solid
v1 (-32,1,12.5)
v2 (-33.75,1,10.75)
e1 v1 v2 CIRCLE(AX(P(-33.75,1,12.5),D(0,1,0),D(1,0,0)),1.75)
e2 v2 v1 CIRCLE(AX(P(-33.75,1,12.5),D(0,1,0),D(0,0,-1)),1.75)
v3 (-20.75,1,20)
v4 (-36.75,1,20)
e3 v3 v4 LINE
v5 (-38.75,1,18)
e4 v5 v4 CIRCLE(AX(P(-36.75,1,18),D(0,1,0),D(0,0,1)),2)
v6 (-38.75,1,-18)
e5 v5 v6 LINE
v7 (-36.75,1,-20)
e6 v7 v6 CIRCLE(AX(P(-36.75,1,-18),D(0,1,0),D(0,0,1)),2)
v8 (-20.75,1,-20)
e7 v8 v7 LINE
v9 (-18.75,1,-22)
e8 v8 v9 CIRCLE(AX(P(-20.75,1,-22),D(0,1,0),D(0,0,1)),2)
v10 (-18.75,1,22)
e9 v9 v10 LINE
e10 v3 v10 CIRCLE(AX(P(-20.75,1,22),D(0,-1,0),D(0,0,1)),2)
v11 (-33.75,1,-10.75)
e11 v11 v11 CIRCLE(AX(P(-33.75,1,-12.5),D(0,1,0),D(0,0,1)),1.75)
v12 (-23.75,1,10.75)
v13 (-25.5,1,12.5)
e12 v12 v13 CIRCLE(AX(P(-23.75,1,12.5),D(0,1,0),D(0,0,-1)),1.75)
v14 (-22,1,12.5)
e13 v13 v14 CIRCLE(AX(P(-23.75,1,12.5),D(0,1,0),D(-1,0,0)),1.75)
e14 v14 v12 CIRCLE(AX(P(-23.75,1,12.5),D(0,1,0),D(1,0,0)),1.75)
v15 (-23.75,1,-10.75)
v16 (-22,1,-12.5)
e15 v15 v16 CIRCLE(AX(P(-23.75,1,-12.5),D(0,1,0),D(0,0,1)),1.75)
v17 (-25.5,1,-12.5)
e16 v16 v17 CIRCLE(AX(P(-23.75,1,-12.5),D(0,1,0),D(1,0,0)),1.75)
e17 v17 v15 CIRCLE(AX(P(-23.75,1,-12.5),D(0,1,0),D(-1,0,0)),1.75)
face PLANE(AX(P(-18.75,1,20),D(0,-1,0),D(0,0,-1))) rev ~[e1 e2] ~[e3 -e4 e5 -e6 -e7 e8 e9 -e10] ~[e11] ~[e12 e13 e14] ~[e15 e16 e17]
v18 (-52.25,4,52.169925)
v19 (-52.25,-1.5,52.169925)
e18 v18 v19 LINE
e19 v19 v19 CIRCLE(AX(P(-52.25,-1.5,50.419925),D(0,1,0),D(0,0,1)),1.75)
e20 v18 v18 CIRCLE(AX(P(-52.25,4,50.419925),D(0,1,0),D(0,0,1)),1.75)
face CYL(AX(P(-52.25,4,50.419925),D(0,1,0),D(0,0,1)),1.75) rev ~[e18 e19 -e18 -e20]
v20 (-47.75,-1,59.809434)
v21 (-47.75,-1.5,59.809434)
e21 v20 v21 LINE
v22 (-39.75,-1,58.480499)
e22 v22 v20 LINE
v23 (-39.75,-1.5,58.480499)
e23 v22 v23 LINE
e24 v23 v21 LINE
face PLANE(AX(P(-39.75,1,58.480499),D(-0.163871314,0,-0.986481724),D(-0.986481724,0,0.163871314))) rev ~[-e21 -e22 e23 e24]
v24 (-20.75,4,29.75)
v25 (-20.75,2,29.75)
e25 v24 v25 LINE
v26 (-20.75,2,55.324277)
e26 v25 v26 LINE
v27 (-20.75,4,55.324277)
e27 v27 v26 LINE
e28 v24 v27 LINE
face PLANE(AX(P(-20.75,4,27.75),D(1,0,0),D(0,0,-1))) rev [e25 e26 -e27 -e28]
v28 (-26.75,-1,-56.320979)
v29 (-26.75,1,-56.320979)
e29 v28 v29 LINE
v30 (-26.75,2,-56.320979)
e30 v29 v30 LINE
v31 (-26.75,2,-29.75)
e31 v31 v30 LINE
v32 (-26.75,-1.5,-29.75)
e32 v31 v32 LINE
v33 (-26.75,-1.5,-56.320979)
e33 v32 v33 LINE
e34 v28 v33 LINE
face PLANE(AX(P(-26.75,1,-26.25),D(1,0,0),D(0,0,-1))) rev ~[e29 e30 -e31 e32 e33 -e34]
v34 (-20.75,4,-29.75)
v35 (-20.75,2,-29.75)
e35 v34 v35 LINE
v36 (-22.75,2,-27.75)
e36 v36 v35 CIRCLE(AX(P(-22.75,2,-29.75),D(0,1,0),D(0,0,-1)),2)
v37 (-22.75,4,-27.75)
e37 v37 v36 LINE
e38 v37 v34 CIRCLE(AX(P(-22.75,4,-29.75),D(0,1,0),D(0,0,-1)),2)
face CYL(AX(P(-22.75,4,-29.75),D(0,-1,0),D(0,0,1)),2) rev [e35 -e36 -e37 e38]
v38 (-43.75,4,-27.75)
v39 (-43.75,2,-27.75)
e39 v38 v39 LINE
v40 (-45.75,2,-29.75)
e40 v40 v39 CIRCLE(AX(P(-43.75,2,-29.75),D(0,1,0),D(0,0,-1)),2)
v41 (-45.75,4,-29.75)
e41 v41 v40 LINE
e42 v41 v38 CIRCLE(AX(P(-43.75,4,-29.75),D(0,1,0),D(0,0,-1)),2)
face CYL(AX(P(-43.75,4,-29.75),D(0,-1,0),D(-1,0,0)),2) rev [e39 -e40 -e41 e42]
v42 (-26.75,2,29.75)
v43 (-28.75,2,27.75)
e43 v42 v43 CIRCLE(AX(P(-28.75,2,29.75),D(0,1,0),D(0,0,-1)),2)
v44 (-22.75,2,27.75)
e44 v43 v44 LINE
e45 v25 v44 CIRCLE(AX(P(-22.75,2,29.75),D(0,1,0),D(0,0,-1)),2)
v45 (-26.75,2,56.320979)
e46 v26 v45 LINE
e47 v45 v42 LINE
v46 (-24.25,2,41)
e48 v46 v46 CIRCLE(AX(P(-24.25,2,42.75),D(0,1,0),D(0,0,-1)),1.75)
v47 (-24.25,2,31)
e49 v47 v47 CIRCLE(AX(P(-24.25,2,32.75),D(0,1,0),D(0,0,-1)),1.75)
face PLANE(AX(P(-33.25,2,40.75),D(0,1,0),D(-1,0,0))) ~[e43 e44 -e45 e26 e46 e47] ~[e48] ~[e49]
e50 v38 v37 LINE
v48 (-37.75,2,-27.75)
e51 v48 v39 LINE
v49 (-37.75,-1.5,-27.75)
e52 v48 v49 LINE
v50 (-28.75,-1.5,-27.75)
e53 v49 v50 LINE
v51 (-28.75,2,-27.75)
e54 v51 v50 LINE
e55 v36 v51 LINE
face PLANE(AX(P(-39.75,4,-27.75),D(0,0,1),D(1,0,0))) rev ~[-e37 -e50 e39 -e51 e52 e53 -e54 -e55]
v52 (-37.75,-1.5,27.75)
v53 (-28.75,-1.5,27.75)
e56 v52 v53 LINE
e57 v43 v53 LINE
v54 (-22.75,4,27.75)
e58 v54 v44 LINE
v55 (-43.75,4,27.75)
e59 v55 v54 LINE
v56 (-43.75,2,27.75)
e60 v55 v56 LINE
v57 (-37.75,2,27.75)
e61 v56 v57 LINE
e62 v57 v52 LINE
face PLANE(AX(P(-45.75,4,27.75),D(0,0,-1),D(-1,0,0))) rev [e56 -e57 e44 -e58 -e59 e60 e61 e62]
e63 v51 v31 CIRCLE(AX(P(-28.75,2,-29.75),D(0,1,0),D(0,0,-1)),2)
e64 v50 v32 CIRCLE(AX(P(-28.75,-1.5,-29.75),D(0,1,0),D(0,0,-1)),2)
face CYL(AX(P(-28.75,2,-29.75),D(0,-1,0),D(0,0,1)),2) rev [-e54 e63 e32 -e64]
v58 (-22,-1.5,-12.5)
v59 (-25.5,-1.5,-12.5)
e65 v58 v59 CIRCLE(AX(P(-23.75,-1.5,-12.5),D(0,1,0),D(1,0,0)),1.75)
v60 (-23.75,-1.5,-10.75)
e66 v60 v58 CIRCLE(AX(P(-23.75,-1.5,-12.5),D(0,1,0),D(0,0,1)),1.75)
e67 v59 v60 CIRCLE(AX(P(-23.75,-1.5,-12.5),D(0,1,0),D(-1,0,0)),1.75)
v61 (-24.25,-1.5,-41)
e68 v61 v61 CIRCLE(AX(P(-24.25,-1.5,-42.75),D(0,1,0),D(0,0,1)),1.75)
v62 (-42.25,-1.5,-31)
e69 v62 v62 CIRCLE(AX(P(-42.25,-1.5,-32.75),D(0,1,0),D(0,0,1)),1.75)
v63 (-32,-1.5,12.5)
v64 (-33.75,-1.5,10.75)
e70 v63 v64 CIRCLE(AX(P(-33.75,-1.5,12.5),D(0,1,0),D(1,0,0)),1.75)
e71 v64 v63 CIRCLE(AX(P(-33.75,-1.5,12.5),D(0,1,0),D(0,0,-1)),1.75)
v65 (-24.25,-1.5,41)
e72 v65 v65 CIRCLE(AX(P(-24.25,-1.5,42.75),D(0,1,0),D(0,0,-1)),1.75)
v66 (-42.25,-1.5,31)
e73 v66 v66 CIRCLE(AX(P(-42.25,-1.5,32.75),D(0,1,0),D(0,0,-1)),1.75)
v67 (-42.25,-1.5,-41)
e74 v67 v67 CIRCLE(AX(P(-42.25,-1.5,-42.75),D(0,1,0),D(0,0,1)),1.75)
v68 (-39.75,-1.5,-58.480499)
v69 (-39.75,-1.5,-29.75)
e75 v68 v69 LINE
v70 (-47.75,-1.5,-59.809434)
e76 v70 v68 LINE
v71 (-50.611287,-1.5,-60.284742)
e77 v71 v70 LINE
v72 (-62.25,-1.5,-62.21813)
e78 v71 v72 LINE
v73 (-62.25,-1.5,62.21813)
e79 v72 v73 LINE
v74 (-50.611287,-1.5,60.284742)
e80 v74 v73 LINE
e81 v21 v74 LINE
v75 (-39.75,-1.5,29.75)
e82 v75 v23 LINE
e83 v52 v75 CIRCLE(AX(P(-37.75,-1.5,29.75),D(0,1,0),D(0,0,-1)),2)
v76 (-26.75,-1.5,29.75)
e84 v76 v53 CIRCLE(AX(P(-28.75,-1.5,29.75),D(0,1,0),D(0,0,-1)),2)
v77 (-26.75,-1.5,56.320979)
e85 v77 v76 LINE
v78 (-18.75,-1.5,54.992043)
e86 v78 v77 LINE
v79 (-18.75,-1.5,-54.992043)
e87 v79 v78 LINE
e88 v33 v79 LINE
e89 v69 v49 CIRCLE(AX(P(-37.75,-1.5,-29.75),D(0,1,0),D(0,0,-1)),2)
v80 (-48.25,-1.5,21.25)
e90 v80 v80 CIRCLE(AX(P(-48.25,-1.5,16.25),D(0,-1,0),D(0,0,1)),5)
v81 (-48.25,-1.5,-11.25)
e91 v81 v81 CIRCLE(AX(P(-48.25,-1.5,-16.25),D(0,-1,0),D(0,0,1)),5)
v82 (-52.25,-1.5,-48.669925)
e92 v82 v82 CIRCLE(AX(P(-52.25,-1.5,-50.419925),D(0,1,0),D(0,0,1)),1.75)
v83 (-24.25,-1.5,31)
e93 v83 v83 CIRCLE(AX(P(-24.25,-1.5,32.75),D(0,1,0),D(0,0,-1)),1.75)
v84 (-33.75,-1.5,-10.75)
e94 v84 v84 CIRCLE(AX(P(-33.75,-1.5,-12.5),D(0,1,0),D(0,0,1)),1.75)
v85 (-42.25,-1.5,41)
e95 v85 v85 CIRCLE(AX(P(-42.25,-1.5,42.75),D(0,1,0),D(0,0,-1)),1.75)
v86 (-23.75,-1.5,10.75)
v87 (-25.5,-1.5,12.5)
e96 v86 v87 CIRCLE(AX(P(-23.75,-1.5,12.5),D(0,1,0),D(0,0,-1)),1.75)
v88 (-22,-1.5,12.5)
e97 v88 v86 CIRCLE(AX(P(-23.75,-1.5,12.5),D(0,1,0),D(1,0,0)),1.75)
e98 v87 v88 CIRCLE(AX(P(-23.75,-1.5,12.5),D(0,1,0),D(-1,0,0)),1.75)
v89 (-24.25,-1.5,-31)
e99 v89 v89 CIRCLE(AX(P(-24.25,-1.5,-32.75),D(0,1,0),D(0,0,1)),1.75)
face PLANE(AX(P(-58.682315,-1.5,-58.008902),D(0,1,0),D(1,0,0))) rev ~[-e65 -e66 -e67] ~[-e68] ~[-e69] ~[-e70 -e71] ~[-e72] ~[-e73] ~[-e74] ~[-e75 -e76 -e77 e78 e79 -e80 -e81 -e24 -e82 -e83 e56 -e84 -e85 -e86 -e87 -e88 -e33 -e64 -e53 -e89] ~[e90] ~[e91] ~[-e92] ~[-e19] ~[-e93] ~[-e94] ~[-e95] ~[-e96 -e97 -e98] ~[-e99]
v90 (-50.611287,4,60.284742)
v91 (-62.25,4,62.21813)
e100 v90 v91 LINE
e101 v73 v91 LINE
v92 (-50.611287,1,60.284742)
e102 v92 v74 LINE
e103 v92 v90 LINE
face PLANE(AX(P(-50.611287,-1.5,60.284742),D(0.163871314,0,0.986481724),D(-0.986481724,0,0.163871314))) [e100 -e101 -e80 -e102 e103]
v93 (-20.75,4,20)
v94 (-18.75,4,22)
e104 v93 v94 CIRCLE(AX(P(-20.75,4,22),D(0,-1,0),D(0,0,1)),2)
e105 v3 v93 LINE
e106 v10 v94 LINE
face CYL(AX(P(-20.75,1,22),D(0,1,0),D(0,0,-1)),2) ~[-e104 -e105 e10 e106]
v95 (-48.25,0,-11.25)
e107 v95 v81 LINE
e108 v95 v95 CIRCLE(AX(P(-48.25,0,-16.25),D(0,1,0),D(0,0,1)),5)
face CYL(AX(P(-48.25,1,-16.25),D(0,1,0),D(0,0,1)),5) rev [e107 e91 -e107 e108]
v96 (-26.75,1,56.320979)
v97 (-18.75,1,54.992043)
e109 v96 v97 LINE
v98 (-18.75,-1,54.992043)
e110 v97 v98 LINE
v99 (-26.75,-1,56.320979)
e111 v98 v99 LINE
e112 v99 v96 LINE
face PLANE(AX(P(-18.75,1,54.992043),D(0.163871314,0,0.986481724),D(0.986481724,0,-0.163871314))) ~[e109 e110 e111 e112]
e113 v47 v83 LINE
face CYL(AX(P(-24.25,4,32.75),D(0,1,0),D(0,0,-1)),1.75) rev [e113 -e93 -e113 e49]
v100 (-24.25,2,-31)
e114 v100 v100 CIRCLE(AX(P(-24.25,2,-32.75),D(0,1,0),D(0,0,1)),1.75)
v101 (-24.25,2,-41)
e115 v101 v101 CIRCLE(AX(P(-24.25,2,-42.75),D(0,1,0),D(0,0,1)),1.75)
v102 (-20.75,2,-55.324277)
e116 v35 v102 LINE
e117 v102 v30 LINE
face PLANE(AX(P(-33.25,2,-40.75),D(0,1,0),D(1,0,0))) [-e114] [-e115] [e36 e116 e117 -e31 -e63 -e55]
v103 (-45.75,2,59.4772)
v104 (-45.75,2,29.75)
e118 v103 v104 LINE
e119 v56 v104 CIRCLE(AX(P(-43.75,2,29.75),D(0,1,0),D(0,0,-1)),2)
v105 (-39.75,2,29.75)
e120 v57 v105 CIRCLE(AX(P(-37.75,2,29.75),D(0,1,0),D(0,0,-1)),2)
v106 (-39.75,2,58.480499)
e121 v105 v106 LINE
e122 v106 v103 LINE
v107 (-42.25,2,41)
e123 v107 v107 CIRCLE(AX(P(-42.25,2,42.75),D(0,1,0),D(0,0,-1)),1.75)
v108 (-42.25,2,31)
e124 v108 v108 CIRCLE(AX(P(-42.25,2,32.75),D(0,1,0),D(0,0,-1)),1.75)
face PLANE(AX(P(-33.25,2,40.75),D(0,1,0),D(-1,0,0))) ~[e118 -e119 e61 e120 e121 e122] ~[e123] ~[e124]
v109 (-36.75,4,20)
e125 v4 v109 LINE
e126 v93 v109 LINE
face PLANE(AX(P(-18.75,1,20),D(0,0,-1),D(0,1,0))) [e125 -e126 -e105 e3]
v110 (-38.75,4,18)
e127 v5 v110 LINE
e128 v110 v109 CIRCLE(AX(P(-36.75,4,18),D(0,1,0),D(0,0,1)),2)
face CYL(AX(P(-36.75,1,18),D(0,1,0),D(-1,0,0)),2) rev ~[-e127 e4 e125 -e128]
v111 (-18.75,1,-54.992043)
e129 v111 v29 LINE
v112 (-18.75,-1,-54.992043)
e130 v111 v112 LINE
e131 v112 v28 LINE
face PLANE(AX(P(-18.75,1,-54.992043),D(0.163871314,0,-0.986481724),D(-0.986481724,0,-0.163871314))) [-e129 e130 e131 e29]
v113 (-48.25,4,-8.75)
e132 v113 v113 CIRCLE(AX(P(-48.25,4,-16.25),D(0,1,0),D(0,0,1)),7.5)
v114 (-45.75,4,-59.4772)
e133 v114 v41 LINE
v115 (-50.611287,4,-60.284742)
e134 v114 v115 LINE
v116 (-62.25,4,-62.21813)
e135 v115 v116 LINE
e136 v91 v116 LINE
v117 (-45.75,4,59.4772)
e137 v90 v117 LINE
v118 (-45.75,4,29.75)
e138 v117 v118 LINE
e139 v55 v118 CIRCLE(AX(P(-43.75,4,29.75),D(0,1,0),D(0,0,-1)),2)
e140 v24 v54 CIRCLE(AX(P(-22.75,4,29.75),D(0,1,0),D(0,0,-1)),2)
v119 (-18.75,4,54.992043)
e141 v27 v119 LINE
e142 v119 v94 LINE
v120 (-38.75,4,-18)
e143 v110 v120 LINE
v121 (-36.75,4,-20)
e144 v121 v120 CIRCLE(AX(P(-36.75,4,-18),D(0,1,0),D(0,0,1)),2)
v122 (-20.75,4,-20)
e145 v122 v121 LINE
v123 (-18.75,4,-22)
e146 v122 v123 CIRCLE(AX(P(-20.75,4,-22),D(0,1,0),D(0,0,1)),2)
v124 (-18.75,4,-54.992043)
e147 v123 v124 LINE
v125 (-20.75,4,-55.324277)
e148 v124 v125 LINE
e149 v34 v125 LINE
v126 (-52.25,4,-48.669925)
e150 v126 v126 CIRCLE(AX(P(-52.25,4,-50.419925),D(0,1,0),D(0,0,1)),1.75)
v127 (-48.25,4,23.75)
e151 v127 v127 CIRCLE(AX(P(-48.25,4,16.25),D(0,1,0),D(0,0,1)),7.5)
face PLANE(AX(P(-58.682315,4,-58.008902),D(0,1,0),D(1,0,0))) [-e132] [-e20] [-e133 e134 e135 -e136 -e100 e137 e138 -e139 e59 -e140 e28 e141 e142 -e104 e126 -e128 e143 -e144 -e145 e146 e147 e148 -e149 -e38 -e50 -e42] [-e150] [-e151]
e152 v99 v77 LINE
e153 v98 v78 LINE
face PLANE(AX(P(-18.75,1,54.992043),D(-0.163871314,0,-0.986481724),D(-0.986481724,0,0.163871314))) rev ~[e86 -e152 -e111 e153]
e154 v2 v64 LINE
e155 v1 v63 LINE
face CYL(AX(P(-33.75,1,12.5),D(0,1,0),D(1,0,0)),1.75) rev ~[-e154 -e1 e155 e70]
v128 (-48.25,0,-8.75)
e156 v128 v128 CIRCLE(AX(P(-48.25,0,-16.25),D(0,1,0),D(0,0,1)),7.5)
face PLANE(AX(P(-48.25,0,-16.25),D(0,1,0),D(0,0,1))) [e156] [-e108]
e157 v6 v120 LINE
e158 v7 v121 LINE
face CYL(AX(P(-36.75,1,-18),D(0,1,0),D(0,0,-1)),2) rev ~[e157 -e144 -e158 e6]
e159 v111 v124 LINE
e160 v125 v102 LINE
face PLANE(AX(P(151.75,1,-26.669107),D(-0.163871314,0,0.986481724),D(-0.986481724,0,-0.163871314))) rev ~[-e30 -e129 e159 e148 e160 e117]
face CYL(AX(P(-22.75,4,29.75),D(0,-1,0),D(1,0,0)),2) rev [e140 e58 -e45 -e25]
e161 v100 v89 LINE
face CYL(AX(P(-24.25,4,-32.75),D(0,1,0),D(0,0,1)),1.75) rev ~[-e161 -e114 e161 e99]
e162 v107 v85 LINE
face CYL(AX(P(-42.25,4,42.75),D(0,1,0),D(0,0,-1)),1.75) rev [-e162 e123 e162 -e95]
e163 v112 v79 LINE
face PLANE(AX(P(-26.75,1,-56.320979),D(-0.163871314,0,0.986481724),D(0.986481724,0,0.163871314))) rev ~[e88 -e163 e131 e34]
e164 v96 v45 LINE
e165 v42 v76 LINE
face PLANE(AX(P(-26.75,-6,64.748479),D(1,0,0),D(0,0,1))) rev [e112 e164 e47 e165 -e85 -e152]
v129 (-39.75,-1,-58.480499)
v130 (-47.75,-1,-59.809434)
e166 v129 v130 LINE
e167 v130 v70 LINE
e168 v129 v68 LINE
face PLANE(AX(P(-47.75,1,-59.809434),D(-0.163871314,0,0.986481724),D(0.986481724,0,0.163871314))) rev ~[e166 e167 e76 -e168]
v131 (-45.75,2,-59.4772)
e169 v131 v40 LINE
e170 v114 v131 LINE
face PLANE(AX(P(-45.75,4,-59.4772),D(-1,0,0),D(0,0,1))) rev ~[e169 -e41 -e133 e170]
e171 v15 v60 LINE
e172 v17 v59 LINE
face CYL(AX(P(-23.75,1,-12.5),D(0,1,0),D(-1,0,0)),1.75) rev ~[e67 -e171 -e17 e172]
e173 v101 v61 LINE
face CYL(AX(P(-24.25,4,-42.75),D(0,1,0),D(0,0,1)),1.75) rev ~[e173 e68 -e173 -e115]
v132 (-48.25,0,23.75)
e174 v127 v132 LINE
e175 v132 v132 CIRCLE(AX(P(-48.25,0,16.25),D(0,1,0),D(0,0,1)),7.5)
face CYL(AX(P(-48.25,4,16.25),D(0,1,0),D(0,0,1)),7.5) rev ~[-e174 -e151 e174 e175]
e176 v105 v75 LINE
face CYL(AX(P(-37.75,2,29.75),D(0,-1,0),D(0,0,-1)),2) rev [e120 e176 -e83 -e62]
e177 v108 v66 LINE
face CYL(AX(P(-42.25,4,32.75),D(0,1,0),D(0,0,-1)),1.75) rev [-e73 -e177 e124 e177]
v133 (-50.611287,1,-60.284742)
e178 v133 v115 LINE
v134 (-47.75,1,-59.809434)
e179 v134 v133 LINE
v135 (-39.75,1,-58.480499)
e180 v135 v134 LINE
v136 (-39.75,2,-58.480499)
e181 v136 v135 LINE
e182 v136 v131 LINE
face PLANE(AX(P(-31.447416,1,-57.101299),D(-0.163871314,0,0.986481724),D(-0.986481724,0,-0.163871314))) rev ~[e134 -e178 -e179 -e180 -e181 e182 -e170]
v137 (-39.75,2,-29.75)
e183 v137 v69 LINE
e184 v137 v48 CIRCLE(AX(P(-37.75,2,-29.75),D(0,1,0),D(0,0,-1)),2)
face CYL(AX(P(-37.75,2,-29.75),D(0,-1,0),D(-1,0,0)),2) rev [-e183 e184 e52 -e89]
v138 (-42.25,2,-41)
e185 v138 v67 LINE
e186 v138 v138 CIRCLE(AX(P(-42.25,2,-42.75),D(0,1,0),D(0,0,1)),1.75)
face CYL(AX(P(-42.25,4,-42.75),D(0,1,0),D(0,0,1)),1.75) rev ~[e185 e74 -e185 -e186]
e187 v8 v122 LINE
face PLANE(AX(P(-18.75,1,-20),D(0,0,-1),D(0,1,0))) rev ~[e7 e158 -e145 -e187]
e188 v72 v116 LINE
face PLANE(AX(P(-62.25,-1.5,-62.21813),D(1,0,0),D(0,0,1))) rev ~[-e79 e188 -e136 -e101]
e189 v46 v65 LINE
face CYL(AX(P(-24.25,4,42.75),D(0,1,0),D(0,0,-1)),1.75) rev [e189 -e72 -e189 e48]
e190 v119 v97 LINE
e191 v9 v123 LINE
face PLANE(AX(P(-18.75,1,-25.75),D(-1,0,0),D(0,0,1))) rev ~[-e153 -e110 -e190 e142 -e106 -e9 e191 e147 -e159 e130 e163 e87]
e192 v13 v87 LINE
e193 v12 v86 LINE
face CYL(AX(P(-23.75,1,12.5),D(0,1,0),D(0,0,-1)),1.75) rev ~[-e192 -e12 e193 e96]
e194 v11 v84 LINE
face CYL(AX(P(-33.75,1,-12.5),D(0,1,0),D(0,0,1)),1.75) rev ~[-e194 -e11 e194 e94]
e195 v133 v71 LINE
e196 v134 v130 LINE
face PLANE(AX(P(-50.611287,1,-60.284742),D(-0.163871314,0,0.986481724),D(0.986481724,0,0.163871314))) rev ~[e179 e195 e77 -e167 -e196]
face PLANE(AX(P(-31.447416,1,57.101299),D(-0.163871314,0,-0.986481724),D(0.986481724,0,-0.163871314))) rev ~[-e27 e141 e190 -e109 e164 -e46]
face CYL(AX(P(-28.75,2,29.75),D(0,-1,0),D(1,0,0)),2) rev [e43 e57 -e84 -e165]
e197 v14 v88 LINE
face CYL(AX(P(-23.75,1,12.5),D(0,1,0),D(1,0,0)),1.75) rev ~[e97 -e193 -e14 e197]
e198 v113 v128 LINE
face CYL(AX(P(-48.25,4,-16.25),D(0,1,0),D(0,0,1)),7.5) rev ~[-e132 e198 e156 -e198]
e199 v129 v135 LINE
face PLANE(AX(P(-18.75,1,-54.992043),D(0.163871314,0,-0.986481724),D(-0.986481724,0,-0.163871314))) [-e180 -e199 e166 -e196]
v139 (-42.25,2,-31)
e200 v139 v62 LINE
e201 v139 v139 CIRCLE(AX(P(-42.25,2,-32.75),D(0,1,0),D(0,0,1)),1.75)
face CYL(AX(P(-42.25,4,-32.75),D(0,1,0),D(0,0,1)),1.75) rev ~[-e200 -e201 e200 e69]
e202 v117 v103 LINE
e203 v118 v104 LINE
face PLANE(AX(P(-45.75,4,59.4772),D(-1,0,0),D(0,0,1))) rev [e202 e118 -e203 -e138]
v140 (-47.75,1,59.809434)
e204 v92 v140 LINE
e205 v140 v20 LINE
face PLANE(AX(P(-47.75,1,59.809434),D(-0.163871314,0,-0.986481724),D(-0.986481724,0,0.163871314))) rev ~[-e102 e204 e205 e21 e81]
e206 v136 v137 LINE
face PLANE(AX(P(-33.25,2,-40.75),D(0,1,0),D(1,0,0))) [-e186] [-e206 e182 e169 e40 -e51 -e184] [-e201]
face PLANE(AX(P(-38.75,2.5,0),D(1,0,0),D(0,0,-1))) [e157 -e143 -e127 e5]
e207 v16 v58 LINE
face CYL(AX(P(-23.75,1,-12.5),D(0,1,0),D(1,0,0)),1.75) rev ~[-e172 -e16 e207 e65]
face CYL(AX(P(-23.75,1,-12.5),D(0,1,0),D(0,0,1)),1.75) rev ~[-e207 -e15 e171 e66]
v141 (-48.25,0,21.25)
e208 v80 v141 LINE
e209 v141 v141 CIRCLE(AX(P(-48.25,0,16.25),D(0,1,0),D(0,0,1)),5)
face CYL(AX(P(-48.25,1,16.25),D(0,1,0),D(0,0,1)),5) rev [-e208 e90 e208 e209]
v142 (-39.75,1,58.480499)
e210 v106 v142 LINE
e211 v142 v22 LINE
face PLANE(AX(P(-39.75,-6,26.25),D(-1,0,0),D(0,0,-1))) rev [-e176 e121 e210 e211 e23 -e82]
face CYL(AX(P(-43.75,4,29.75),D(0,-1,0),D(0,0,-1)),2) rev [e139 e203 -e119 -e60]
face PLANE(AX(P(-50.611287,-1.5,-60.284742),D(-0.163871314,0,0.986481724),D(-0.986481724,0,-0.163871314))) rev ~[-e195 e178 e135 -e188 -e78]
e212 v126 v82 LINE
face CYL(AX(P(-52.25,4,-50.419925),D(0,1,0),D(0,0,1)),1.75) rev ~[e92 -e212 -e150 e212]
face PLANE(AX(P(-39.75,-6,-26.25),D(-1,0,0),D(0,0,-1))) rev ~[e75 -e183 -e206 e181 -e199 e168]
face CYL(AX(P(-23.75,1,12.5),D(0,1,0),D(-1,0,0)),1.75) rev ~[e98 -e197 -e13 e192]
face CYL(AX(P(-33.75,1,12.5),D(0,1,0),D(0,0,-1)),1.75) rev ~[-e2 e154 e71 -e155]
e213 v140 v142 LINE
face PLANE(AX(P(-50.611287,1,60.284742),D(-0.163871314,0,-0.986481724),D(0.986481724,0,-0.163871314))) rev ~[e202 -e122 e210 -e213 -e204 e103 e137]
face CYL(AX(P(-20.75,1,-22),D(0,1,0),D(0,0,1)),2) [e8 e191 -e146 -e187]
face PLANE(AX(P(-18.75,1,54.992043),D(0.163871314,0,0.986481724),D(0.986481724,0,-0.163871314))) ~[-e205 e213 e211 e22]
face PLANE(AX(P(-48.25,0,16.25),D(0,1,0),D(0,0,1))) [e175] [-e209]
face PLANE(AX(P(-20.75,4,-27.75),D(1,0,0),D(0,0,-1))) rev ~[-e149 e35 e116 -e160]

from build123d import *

# Parameters (mm, degrees)
SKETCH_1_W           = 35
SKETCH_1_H           = 55
EXTRUDE_1_DEPTH      = 1
EXTRUDE_2_DEPTH      = 3
SKETCH_3_R           = 5
CUT_EXTRUDE_1_DEPTH  = 169.569903897
SKETCH_4_R           = 4
CUT_EXTRUDE_2_DEPTH  = 2
SKETCH_5_R           = 2
CUT_EXTRUDE_3_DEPTH  = 2
EXTRUDE_START        = 7
EXTRUDE_3_DEPTH      = 7
CUT_EXTRUDE_START    = -1.5
SKETCH_9_W           = 10
SKETCH_9_H           = 26
CUT_EXTRUDE_4_DEPTH  = 168.318874833
SKETCH_10_R          = 1.5
CUT_EXTRUDE_5_DEPTH  = 194.595583627
EXTRUDE_START_2      = -3
EXTRUDE_4_DEPTH      = 3
SKETCH_12_R          = 9
SKETCH_12_R_2        = 5
EXTRUDE_5_DEPTH      = 2.5
SKETCH_13_R          = 7.5
CUT_EXTRUDE_6_DEPTH  = 4
SKETCH_14_W          = 10
SKETCH_14_H          = 26
CUT_EXTRUDE_7_DEPTH  = 2
EXTRUDE_START_3      = -1
EXTRUDE_6_DEPTH      = 2
CUT_EXTRUDE_8_DEPTH  = 170.92003224
SKETCH_17_W          = 35
SKETCH_17_H          = 55
CUT_EXTRUDE_9_DEPTH  = 1
SKETCH_19_R          = 9
EXTRUDE_8_DEPTH      = 2.5
SKETCH_20_W          = 13
SKETCH_20_H          = 1.5
EXTRUDE_9_DEPTH      = 5.5
SKETCH_21_R          = 3.5
CUT_EXTRUDE_10_DEPTH = 2
CUT_EXTRUDE_11_DEPTH = 10
SKETCH_23_R          = 1.75
CUT_EXTRUDE_12_DEPTH = 10
SKETCH_25_R          = 1.75
CUT_EXTRUDE_14_DEPTH = 170.71466453
SKETCH_26_R          = 1
CUT_EXTRUDE_15_DEPTH = 10
SKETCH_27_W          = 202.73966265
SKETCH_27_H          = 59.810399393
CUT_EXTRUDE_16_DEPTH = 188.307580884
SKETCH_28_W          = 40
SKETCH_28_H          = 3
CUT_EXTRUDE_17_DEPTH = 20
SKETCH_29_R          = 1.75
CUT_EXTRUDE_18_DEPTH = 10
EXTRUDE_START_4      = -5.5
EXTRUDE_10_DEPTH     = 5.5
FILLET_1_R           = 2
FILLET_3_R           = 2


with BuildPart() as part:
    # 草图1 → 凸台-拉伸1 (new body)
    with BuildSketch(Plane(origin=(0, 0, 0), x_dir=(1, 0, 0), z_dir=(0, 1, 0))):
        Rectangle(SKETCH_1_W, SKETCH_1_H)
    extrude(amount=EXTRUDE_1_DEPTH)

    # 草图2 → 凸台-拉伸2 (add)
    with BuildSketch(Plane(origin=(0, 1, 0), x_dir=(1, 0, 0), z_dir=(0, 1, 0))):
        with BuildLine():
            Line((106.75, -2.25), (106.75, 2.25))
            Line((106.75, 2.25), (121.75, 2.25))
            ThreePointArc((121.75, 2.25), (122.922125199, 2.352547667), (124.058635967, 2.65707481))
            Line((124.058635967, 2.65707481), (154.058635967, 13.576181838))
            ThreePointArc((154.058635967, 13.576181838), (158.397452333, 21.091232227), (151.75, 26.669107028))
            Line((151.75, 26.669107028), (-31.447415548, 57.101298968))
            ThreePointArc((-31.447415548, 57.101298968), (-37.800418235, 56.264673928), (-42.609265279, 52.029632639))
            Line((-42.609265279, 52.029632639), (-60.161792173, 23.605896086))
            ThreePointArc((-60.161792173, 23.605896086), (-61.717833724, 20.073278016), (-62.25, 16.25))
            Line((-62.25, 16.25), (-62.25, -16.25))
            ThreePointArc((-62.25, -16.25), (-61.717833724, -20.073278016), (-60.161792173, -23.605896086))
            Line((-60.161792173, -23.605896086), (-42.609265279, -52.029632639))
            ThreePointArc((-42.609265279, -52.029632639), (-37.800418235, -56.264673928), (-31.447415548, -57.101298968))
            Line((-31.447415548, -57.101298968), (151.75, -26.669107028))
            ThreePointArc((151.75, -26.669107028), (158.397452333, -21.091232227), (154.058635967, -13.576181838))
            Line((154.058635967, -13.576181838), (124.058635967, -2.65707481))
            ThreePointArc((124.058635967, -2.65707481), (122.922125199, -2.352547667), (121.75, -2.25))
            Line((121.75, -2.25), (106.75, -2.25))
        make_face()
    extrude(amount=EXTRUDE_2_DEPTH)

    # 草图3 → 切除-拉伸1 (cut, through all)
    with BuildSketch(Plane(origin=(0, 4, 0), x_dir=(1, 0, 0), z_dir=(0, 1, 0))):
        with Locations(Location((-48.25, 16.25, 0), (0, 0, 270))):
            Circle(SKETCH_3_R)
        with Locations(Location((-48.25, -16.25, 0), (0, 0, 270))):
            Circle(SKETCH_3_R)
    extrude(amount=-CUT_EXTRUDE_1_DEPTH, mode=Mode.SUBTRACT)

    # 草图4 → 切除-拉伸2 (cut)
    with BuildSketch(Plane(origin=(0, 4, 0), x_dir=(1, 0, 0), z_dir=(0, 1, 0))):
        with Locations(Location((-33.25, 46.25, 0), (0, 0, 270))):
            Circle(SKETCH_4_R)
        with Locations(Location((-33.25, -46.25, 0), (0, 0, 270))):
            Circle(SKETCH_4_R)
    extrude(amount=-CUT_EXTRUDE_2_DEPTH, mode=Mode.SUBTRACT)

    # 草图5 → 切除-拉伸3 (cut)
    with BuildSketch(Plane(origin=(0, 4, 0), x_dir=(1, 0, 0), z_dir=(0, 1, 0))):
        with Locations(Location((121.75, 9, 0), (0, 0, 270))):
            Circle(SKETCH_5_R)
        with Locations(Location((121.75, -9, 0), (0, 0, 270))):
            Circle(SKETCH_5_R)
        with Locations(Location((151.75, 19.919107028, 0), (0, 0, 270))):
            Circle(SKETCH_5_R)
        with Locations(Location((151.75, -19.919107028, 0), (0, 0, 270))):
            Circle(SKETCH_5_R)
    extrude(amount=-CUT_EXTRUDE_3_DEPTH, mode=Mode.SUBTRACT)

    # 草图8 → 凸台-拉伸3 (add)
    with BuildSketch(Plane.XZ.offset(-1).offset(EXTRUDE_START)):
        with BuildLine():
            Line((-26.75, -26.25), (-39.75, -26.25))
            Line((-39.75, -26.25), (-39.75, -55.124119675))
            ThreePointArc((-39.75, -55.124119675), (-35.798281322, -56.950759894), (-31.447415548, -57.101298968))
            Line((-31.447415548, -57.101298968), (-26.75, -56.320978726))
            Line((-26.75, -56.320978726), (-26.75, -26.25))
        make_face()
    extrude_3 = extrude(amount=-EXTRUDE_3_DEPTH)

    # 镜向1: 凸台-拉伸3 across plane
    add(extrude_3.mirror(Plane.XY))

    # 草图9 → 切除-拉伸4 (cut, through all)
    with BuildSketch(Plane.XZ.offset(6).offset(CUT_EXTRUDE_START)):
        with Locations((-33.25, -40.75)):
            Rectangle(SKETCH_9_W, SKETCH_9_H)
    cut_extrude_4 = extrude(amount=-CUT_EXTRUDE_4_DEPTH, mode=Mode.SUBTRACT)

    # 镜向2: 切除-拉伸4 across plane
    add(cut_extrude_4.mirror(Plane.XY), mode=Mode.SUBTRACT)

    # 草图10 → 切除-拉伸5 (cut, through all)
    with BuildSketch(Plane.XY.offset(-53.75)):
        with Locations((-33.25, -1.5)):
            Circle(SKETCH_10_R)
    cut_extrude_5 = extrude(amount=-CUT_EXTRUDE_5_DEPTH, mode=Mode.SUBTRACT)

    # 镜向3: 切除-拉伸5 across plane
    add(cut_extrude_5.mirror(Plane.XY), mode=Mode.SUBTRACT)

    # 草图11 → 凸台-拉伸4 (add)
    with BuildSketch(Plane(origin=(0, 4, 0), x_dir=(1, 0, 0), z_dir=(0, 1, 0)).offset(EXTRUDE_START_2)):
        with BuildLine():
            Line((-62.25, 50.419925161), (-62.25, 16.25))
            ThreePointArc((-62.25, 16.25), (-61.717833724, 20.073278016), (-60.161792173, 23.605896086))
            Line((-60.161792173, 23.605896086), (-42.609265279, 52.029632639))
            ThreePointArc((-42.609265279, 52.029632639), (-37.800418235, 56.264673928), (-31.447415548, 57.101298968))
            Line((-31.447415548, 57.101298968), (-50.611286861, 60.284742405))
            ThreePointArc((-50.611286861, 60.284742405), (-58.715789535, 58.048395892), (-62.25, 50.419925161))
        make_face()
        with BuildLine():
            ThreePointArc((-60.161792173, -23.605896086), (-61.717833724, -20.073278016), (-62.25, -16.25))
            Line((-62.25, -16.25), (-62.25, -50.419925161))
            ThreePointArc((-62.25, -50.419925161), (-58.715789535, -58.048395892), (-50.611286861, -60.284742405))
            Line((-50.611286861, -60.284742405), (-31.447415548, -57.101298968))
            ThreePointArc((-31.447415548, -57.101298968), (-37.800418235, -56.264673928), (-42.609265279, -52.029632639))
            Line((-42.609265279, -52.029632639), (-60.161792173, -23.605896086))
        make_face()
    extrude(amount=EXTRUDE_4_DEPTH)

    # 草图12 → 凸台-拉伸5 (add)
    # profile 1 of 2: a face of its own
    with BuildSketch(Plane.XZ.offset(-1)):
        with Locations(Location((-48.25, 16.25, 0), (0, 0, 90))):
            Circle(SKETCH_12_R)
        with Locations(Location((-48.25, 16.25, 0), (0, 0, 90))):
            Circle(SKETCH_12_R_2, mode=Mode.SUBTRACT)
    # profile 2 of 2: a face of its own
    with BuildSketch(Plane.XZ.offset(-1)):
        with Locations(Location((-48.25, -16.25, 0), (0, 0, 90))):
            Circle(SKETCH_12_R)
        with Locations(Location((-48.25, -16.25, 0), (0, 0, 90))):
            Circle(SKETCH_12_R_2, mode=Mode.SUBTRACT)
    extrude(amount=EXTRUDE_5_DEPTH)

    # 草图13 → 切除-拉伸6 (cut)
    with BuildSketch(Plane(origin=(0, 4, 0), x_dir=(1, 0, 0), z_dir=(0, 1, 0))):
        with Locations(Location((-48.25, 16.25, 0), (0, 0, 270))):
            Circle(SKETCH_13_R)
        with Locations(Location((-48.25, -16.25, 0), (0, 0, 270))):
            Circle(SKETCH_13_R)
    extrude(amount=-CUT_EXTRUDE_6_DEPTH, mode=Mode.SUBTRACT)

    # 草图14 → 切除-拉伸7 (cut)
    with BuildSketch(Plane(origin=(0, 4, 0), x_dir=(1, 0, 0), z_dir=(0, 1, 0))):
        with Locations((-33.25, 40.75)):
            Rectangle(SKETCH_14_W, SKETCH_14_H)
        Polygon((-20.75, 55.324277157), (-45.75, 59.477200364), (-45.75, 27.75), (-38.25, 27.75), (-38.25, 53.75), (-28.25, 53.75), (-28.25, 27.75), (-20.75, 27.75), align=None)
    cut_extrude_7 = extrude(amount=-CUT_EXTRUDE_7_DEPTH, mode=Mode.SUBTRACT)

    # 草图15 → 凸台-拉伸6 (add)
    with BuildSketch(Plane(origin=(0, 2, 0), x_dir=(1, 0, 0), z_dir=(0, 1, 0)).offset(EXTRUDE_START_3)):
        Polygon((-18.75, 54.9920433), (-47.75, 59.80943422), (-47.75, 25.75), (-30.25, 25.75), (-18.75, 25.75), align=None)
    extrude_6 = extrude(amount=-EXTRUDE_6_DEPTH)

    # 草图16 → 切除-拉伸8 (cut, through all)
    with BuildSketch(Plane.XZ.offset(6)):
        with BuildLine():
            Line((-31.447415548, -57.101298968), (-26.75, -56.320978726))
            Line((-26.75, -56.320978726), (-26.75, -26.25))
            Line((-26.75, -26.25), (-39.75, -26.25))
            Line((-39.75, -26.25), (-39.75, -55.124119675))
            ThreePointArc((-39.75, -55.124119675), (-35.798281322, -56.950759894), (-31.447415548, -57.101298968))
        make_face()
        with BuildLine():
            Line((-39.75, -65.953183835), (-26.75, -64.748478677))
            Line((-26.75, -64.748478677), (-26.75, -56.320978726))
            Line((-26.75, -56.320978726), (-31.447415548, -57.101298968))
            ThreePointArc((-31.447415548, -57.101298968), (-35.798281322, -56.950759894), (-39.75, -55.124119675))
            Line((-39.75, -55.124119675), (-39.75, -65.953183835))
        make_face()
    cut_extrude_8 = extrude(amount=-CUT_EXTRUDE_8_DEPTH, mode=Mode.SUBTRACT)

    # 镜向4: 切除-拉伸4, 切除-拉伸7, 凸台-拉伸6, 切除-拉伸8 across plane
    add(cut_extrude_4.mirror(Plane.XY), mode=Mode.SUBTRACT)
    add(cut_extrude_7.mirror(Plane.XY), mode=Mode.SUBTRACT)
    add(extrude_6.mirror(Plane.XY))
    add(cut_extrude_8.mirror(Plane.XY), mode=Mode.SUBTRACT)

    # 草图17 → 切除-拉伸9 (cut)
    with BuildSketch(Plane.XZ):
        Rectangle(SKETCH_17_W, SKETCH_17_H)
    extrude(amount=-CUT_EXTRUDE_9_DEPTH, mode=Mode.SUBTRACT)

    # 草图19 → 凸台-拉伸8 (add)
    # profile 1 of 3: a face of its own
    with BuildSketch(Plane.XZ.offset(-1)):
        with BuildLine():
            Line((-50.611286861, -60.284742405), (-47.75, -59.80943422))
            Line((-47.75, -59.80943422), (-47.75, -25.75))
            Line((-47.75, -25.75), (-18.75, -25.75))
            Line((-18.75, -25.75), (-18.75, 25.75))
            Line((-18.75, 25.75), (-47.75, 25.75))
            Line((-47.75, 25.75), (-47.75, 59.80943422))
            Line((-47.75, 59.80943422), (-50.611286861, 60.284742405))
            ThreePointArc((-50.611286861, 60.284742405), (-58.715789535, 58.048395892), (-62.25, 50.419925161))
            Line((-62.25, 50.419925161), (-62.25, -50.419925161))
            ThreePointArc((-62.25, -50.419925161), (-58.715789535, -58.048395892), (-50.611286861, -60.284742405))
        make_face()
        with Locations((-48.25, -16.25)):
            Circle(SKETCH_19_R, mode=Mode.SUBTRACT)
        with Locations((-48.25, 16.25)):
            Circle(SKETCH_19_R, mode=Mode.SUBTRACT)
    # profile 2 of 3: a face of its own
    with BuildSketch(Plane.XZ.offset(-1)):
        Polygon((-26.75, 56.320978726), (-26.75, 26.25), (-39.75, 26.25), (-39.75, 58.480498794), (-47.75, 59.80943422), (-47.75, 25.75), (-18.75, 25.75), (-18.75, 54.9920433), align=None)
    # profile 3 of 3: a face of its own
    with BuildSketch(Plane.XZ.offset(-1)):
        Polygon((-26.75, -26.25), (-26.75, -56.320978726), (-18.75, -54.9920433), (-18.75, -25.75), (-47.75, -25.75), (-47.75, -59.80943422), (-39.75, -58.480498794), (-39.75, -26.25), align=None)
    extrude(amount=EXTRUDE_8_DEPTH)

    # 草图20 → 凸台-拉伸9 (add)
    with BuildSketch(Plane(origin=(0, 4, 0), x_dir=(1, 0, 0), z_dir=(0, 1, 0))):
        with Locations((-33.25, 27)):
            Rectangle(SKETCH_20_W, SKETCH_20_H)
        with Locations((-33.25, -27)):
            Rectangle(SKETCH_20_W, SKETCH_20_H)
    extrude(amount=-EXTRUDE_9_DEPTH)

    # 草图21 → 切除-拉伸10 (cut)
    with BuildSketch(Plane(origin=(0, 4, 0), x_dir=(1, 0, 0), z_dir=(0, 1, 0))):
        with Locations(Location((121.75, 9, 0), (0, 0, 270))):
            Circle(SKETCH_21_R)
        with Locations(Location((121.75, -9, 0), (0, 0, 270))):
            Circle(SKETCH_21_R)
        with Locations(Location((151.75, -19.919107028, 0), (0, 0, 270))):
            Circle(SKETCH_21_R)
        with Locations(Location((151.75, 19.919107028, 0), (0, 0, 270))):
            Circle(SKETCH_21_R)
    extrude(amount=-CUT_EXTRUDE_10_DEPTH, mode=Mode.SUBTRACT)

    # 草图22 → 切除-拉伸11 (cut)
    with BuildSketch(Plane(origin=(0, 4, 0), x_dir=(1, 0, 0), z_dir=(0, 1, 0))):
        with BuildLine():
            ThreePointArc((5.75, -14.5), (7.5, -16.25), (5.75, -18))
            Line((5.75, -18), (1.75, -18))
            ThreePointArc((1.75, -18), (0, -16.25), (1.75, -14.5))
            Line((1.75, -14.5), (5.75, -14.5))
        make_face()
        with BuildLine():
            ThreePointArc((85.75, -14.5), (87.5, -16.25), (85.75, -18))
            Line((85.75, -18), (81.75, -18))
            ThreePointArc((81.75, -18), (80, -16.25), (81.75, -14.5))
            Line((81.75, -14.5), (85.75, -14.5))
        make_face()
        with BuildLine():
            Line((3.5, 31.25), (3.5, 35.25))
            ThreePointArc((3.5, 35.25), (1.75, 37), (0, 35.25))
            Line((0, 35.25), (0, 31.25))
            ThreePointArc((0, 31.25), (1.75, 29.5), (3.5, 31.25))
        make_face()
        with BuildLine():
            Line((7.5, 16.25), (0, 16.25))
            ThreePointArc((0, 16.25), (0.512563133, 15.012563133), (1.75, 14.5))
            Line((1.75, 14.5), (5.75, 14.5))
            ThreePointArc((5.75, 14.5), (6.987436867, 15.012563133), (7.5, 16.25))
        make_face()
        with BuildLine():
            Line((81.75, 14.5), (85.75, 14.5))
            ThreePointArc((85.75, 14.5), (87.5, 16.25), (85.75, 18))
            Line((85.75, 18), (81.75, 18))
            ThreePointArc((81.75, 18), (80, 16.25), (81.75, 14.5))
        make_face()
        with BuildLine():
            ThreePointArc((1.75, 18), (0.512563133, 17.487436867), (0, 16.25))
            Line((0, 16.25), (7.5, 16.25))
            ThreePointArc((7.5, 16.25), (6.987436867, 17.487436867), (5.75, 18))
            Line((5.75, 18), (1.75, 18))
        make_face()
        with BuildLine():
            Line((3.5, -31.25), (3.5, -35.25))
            ThreePointArc((3.5, -35.25), (1.75, -37), (0, -35.25))
            Line((0, -35.25), (0, -31.25))
            ThreePointArc((0, -31.25), (1.75, -29.5), (3.5, -31.25))
        make_face()
        with BuildLine():
            Line((41.75, -18), (45.75, -18))
            ThreePointArc((45.75, -18), (47.5, -16.25), (45.75, -14.5))
            Line((45.75, -14.5), (41.75, -14.5))
            ThreePointArc((41.75, -14.5), (40, -16.25), (41.75, -18))
        make_face()
        with BuildLine():
            Line((41.75, 14.5), (45.75, 14.5))
            ThreePointArc((45.75, 14.5), (47.5, 16.25), (45.75, 18))
            Line((45.75, 18), (41.75, 18))
            ThreePointArc((41.75, 18), (40, 16.25), (41.75, 14.5))
        make_face()
    extrude(amount=-CUT_EXTRUDE_11_DEPTH, mode=Mode.SUBTRACT)

    # 草图23 → 切除-拉伸12 (cut)
    with BuildSketch(Plane(origin=(0, 4, 0), x_dir=(1, 0, 0), z_dir=(0, 1, 0))):
        with Locations(Location((-42.25, 42.75, 0), (0, 0, 270))):
            Circle(SKETCH_23_R)
        with Locations(Location((-42.25, 32.75, 0), (0, 0, 270))):
            Circle(SKETCH_23_R)
        with Locations(Location((-24.25, 32.75, 0), (0, 0, 270))):
            Circle(SKETCH_23_R)
        with Locations(Location((-24.25, 42.75, 0), (0, 0, 270))):
            Circle(SKETCH_23_R)
    cut_extrude_12 = extrude(amount=-CUT_EXTRUDE_12_DEPTH, mode=Mode.SUBTRACT)

    # 镜向5: 切除-拉伸12 across plane
    add(cut_extrude_12.mirror(Plane.XY), mode=Mode.SUBTRACT)

    # 草图25 → 切除-拉伸14 (cut, through all)
    with BuildSketch(Plane(origin=(0, 4, 0), x_dir=(1, 0, 0), z_dir=(0, 1, 0))):
        with Locations(Location((-52.25, -50.419925161, 0), (0, 0, 270))):
            Circle(SKETCH_25_R)
        with Locations(Location((-52.25, 50.419925161, 0), (0, 0, 270))):
            Circle(SKETCH_25_R)
    extrude(amount=-CUT_EXTRUDE_14_DEPTH, mode=Mode.SUBTRACT)

    # 草图26 → 切除-拉伸15 (cut)
    with BuildSketch(Plane(origin=(0, 4, 0), x_dir=(1, 0, 0), z_dir=(0, 1, 0))):
        with Locations(Location((106.75, 25, 0), (0, 0, 270))):
            Circle(SKETCH_26_R)
    extrude(amount=-CUT_EXTRUDE_15_DEPTH, mode=Mode.SUBTRACT)

    # 草图27 → 切除-拉伸16 (cut, through all)
    with BuildSketch(Plane(origin=(-18.75, 0, 0), x_dir=(0, 0, -1), z_dir=(1, 0, 0))):
        with Locations((17.371402765, -5.55858944)):
            Rectangle(SKETCH_27_W, SKETCH_27_H)
    extrude(amount=CUT_EXTRUDE_16_DEPTH, mode=Mode.SUBTRACT)

    # 草图28 → 切除-拉伸17 (cut)
    with BuildSketch(Plane(origin=(-18.75, 0, 0), x_dir=(0, 0, -1), z_dir=(1, 0, 0))):
        with Locations((0, 2.5)):
            Rectangle(SKETCH_28_W, SKETCH_28_H)
    extrude(amount=-CUT_EXTRUDE_17_DEPTH, mode=Mode.SUBTRACT)

    # 草图29 → 切除-拉伸18 (cut)
    with BuildSketch(Plane(origin=(0, 1, 0), x_dir=(1, 0, 0), z_dir=(0, 1, 0))):
        with BuildLine():
            ThreePointArc((-25.5, 12.5), (-24.987436867, 11.262563133), (-23.75, 10.75))
            Line((-23.75, 10.75), (-23.75, 12.5))
            Line((-23.75, 12.5), (-25.5, 12.5))
        make_face()
        with BuildLine():
            Line((-23.75, 12.5), (-23.75, 10.75))
            ThreePointArc((-23.75, 10.75), (-22.512563133, 11.262563133), (-22, 12.5))
            ThreePointArc((-22, 12.5), (-23.75, 14.25), (-25.5, 12.5))
            Line((-25.5, 12.5), (-23.75, 12.5))
        make_face()
        with BuildLine():
            ThreePointArc((-22, -12.5), (-22.512563133, -11.262563133), (-23.75, -10.75))
            Line((-23.75, -10.75), (-23.75, -12.5))
            Line((-23.75, -12.5), (-25.5, -12.5))
            ThreePointArc((-25.5, -12.5), (-23.75, -14.25), (-22, -12.5))
        make_face()
        with BuildLine():
            Line((-23.75, -12.5), (-23.75, -10.75))
            ThreePointArc((-23.75, -10.75), (-24.987436867, -11.262563133), (-25.5, -12.5))
            Line((-25.5, -12.5), (-23.75, -12.5))
        make_face()
        with BuildLine():
            ThreePointArc((-32, -12.5), (-32.512563133, -11.262563133), (-33.75, -10.75))
            Line((-33.75, -10.75), (-33.75, -12.5))
            Line((-33.75, -12.5), (-32, -12.5))
        make_face()
        with BuildLine():
            Line((-33.75, -12.5), (-33.75, -10.75))
            ThreePointArc((-33.75, -10.75), (-34.987436867, -13.737436867), (-32, -12.5))
            Line((-32, -12.5), (-33.75, -12.5))
        make_face()
        with Locations(Location((-33.75, 12.5, 0), (0, 0, 270))):
            Circle(SKETCH_29_R)
    extrude(amount=-CUT_EXTRUDE_18_DEPTH, mode=Mode.SUBTRACT)

    # 草图30 → 凸台-拉伸10 (add)
    with BuildSketch(Plane(origin=(0, 4, 0), x_dir=(1, 0, 0), z_dir=(0, 1, 0)).offset(EXTRUDE_START_4)):
        with BuildLine():
            Line((-50.611286861, 60.284742405), (-62.25, 62.21812968))
            Line((-62.25, 62.21812968), (-62.25, 50.419925161))
            ThreePointArc((-62.25, 50.419925161), (-58.715789535, 58.048395892), (-50.611286861, 60.284742405))
        make_face()
        with BuildLine():
            Line((-50.611286861, -60.284742405), (-62.25, -62.21812968))
            Line((-62.25, -62.21812968), (-62.25, -50.419925161))
            ThreePointArc((-62.25, -50.419925161), (-58.715789535, -58.048395892), (-50.611286861, -60.284742405))
        make_face()
    extrude(amount=EXTRUDE_10_DEPTH)

    # 圆角1
    fillet_1_edges = [part.edges().sort_by_distance(p)[0] for p in [
        (-38.75, 2.5, -20),
        (-38.75, 2.5, 20),
        (-20.75, 3, -27.75),
        (-45.75, 3, -27.75),
        (-45.75, 3, 27.75),
        (-20.75, 3, 27.75),
        (-39.75, 0.25, -27.75),
        (-26.75, 0.25, -27.75),
        (-26.75, 0.25, 27.75),
        (-39.75, 0.25, 27.75),
    ]]
    fillet(fillet_1_edges, radius=FILLET_1_R)

    # 圆角3
    fillet_3_edges = [part.edges().sort_by_distance(p)[0] for p in [
        (-18.75, 2.5, -20),
        (-18.75, 2.5, 20),
    ]]
    fillet(fillet_3_edges, radius=FILLET_3_R)


solid = part.part
